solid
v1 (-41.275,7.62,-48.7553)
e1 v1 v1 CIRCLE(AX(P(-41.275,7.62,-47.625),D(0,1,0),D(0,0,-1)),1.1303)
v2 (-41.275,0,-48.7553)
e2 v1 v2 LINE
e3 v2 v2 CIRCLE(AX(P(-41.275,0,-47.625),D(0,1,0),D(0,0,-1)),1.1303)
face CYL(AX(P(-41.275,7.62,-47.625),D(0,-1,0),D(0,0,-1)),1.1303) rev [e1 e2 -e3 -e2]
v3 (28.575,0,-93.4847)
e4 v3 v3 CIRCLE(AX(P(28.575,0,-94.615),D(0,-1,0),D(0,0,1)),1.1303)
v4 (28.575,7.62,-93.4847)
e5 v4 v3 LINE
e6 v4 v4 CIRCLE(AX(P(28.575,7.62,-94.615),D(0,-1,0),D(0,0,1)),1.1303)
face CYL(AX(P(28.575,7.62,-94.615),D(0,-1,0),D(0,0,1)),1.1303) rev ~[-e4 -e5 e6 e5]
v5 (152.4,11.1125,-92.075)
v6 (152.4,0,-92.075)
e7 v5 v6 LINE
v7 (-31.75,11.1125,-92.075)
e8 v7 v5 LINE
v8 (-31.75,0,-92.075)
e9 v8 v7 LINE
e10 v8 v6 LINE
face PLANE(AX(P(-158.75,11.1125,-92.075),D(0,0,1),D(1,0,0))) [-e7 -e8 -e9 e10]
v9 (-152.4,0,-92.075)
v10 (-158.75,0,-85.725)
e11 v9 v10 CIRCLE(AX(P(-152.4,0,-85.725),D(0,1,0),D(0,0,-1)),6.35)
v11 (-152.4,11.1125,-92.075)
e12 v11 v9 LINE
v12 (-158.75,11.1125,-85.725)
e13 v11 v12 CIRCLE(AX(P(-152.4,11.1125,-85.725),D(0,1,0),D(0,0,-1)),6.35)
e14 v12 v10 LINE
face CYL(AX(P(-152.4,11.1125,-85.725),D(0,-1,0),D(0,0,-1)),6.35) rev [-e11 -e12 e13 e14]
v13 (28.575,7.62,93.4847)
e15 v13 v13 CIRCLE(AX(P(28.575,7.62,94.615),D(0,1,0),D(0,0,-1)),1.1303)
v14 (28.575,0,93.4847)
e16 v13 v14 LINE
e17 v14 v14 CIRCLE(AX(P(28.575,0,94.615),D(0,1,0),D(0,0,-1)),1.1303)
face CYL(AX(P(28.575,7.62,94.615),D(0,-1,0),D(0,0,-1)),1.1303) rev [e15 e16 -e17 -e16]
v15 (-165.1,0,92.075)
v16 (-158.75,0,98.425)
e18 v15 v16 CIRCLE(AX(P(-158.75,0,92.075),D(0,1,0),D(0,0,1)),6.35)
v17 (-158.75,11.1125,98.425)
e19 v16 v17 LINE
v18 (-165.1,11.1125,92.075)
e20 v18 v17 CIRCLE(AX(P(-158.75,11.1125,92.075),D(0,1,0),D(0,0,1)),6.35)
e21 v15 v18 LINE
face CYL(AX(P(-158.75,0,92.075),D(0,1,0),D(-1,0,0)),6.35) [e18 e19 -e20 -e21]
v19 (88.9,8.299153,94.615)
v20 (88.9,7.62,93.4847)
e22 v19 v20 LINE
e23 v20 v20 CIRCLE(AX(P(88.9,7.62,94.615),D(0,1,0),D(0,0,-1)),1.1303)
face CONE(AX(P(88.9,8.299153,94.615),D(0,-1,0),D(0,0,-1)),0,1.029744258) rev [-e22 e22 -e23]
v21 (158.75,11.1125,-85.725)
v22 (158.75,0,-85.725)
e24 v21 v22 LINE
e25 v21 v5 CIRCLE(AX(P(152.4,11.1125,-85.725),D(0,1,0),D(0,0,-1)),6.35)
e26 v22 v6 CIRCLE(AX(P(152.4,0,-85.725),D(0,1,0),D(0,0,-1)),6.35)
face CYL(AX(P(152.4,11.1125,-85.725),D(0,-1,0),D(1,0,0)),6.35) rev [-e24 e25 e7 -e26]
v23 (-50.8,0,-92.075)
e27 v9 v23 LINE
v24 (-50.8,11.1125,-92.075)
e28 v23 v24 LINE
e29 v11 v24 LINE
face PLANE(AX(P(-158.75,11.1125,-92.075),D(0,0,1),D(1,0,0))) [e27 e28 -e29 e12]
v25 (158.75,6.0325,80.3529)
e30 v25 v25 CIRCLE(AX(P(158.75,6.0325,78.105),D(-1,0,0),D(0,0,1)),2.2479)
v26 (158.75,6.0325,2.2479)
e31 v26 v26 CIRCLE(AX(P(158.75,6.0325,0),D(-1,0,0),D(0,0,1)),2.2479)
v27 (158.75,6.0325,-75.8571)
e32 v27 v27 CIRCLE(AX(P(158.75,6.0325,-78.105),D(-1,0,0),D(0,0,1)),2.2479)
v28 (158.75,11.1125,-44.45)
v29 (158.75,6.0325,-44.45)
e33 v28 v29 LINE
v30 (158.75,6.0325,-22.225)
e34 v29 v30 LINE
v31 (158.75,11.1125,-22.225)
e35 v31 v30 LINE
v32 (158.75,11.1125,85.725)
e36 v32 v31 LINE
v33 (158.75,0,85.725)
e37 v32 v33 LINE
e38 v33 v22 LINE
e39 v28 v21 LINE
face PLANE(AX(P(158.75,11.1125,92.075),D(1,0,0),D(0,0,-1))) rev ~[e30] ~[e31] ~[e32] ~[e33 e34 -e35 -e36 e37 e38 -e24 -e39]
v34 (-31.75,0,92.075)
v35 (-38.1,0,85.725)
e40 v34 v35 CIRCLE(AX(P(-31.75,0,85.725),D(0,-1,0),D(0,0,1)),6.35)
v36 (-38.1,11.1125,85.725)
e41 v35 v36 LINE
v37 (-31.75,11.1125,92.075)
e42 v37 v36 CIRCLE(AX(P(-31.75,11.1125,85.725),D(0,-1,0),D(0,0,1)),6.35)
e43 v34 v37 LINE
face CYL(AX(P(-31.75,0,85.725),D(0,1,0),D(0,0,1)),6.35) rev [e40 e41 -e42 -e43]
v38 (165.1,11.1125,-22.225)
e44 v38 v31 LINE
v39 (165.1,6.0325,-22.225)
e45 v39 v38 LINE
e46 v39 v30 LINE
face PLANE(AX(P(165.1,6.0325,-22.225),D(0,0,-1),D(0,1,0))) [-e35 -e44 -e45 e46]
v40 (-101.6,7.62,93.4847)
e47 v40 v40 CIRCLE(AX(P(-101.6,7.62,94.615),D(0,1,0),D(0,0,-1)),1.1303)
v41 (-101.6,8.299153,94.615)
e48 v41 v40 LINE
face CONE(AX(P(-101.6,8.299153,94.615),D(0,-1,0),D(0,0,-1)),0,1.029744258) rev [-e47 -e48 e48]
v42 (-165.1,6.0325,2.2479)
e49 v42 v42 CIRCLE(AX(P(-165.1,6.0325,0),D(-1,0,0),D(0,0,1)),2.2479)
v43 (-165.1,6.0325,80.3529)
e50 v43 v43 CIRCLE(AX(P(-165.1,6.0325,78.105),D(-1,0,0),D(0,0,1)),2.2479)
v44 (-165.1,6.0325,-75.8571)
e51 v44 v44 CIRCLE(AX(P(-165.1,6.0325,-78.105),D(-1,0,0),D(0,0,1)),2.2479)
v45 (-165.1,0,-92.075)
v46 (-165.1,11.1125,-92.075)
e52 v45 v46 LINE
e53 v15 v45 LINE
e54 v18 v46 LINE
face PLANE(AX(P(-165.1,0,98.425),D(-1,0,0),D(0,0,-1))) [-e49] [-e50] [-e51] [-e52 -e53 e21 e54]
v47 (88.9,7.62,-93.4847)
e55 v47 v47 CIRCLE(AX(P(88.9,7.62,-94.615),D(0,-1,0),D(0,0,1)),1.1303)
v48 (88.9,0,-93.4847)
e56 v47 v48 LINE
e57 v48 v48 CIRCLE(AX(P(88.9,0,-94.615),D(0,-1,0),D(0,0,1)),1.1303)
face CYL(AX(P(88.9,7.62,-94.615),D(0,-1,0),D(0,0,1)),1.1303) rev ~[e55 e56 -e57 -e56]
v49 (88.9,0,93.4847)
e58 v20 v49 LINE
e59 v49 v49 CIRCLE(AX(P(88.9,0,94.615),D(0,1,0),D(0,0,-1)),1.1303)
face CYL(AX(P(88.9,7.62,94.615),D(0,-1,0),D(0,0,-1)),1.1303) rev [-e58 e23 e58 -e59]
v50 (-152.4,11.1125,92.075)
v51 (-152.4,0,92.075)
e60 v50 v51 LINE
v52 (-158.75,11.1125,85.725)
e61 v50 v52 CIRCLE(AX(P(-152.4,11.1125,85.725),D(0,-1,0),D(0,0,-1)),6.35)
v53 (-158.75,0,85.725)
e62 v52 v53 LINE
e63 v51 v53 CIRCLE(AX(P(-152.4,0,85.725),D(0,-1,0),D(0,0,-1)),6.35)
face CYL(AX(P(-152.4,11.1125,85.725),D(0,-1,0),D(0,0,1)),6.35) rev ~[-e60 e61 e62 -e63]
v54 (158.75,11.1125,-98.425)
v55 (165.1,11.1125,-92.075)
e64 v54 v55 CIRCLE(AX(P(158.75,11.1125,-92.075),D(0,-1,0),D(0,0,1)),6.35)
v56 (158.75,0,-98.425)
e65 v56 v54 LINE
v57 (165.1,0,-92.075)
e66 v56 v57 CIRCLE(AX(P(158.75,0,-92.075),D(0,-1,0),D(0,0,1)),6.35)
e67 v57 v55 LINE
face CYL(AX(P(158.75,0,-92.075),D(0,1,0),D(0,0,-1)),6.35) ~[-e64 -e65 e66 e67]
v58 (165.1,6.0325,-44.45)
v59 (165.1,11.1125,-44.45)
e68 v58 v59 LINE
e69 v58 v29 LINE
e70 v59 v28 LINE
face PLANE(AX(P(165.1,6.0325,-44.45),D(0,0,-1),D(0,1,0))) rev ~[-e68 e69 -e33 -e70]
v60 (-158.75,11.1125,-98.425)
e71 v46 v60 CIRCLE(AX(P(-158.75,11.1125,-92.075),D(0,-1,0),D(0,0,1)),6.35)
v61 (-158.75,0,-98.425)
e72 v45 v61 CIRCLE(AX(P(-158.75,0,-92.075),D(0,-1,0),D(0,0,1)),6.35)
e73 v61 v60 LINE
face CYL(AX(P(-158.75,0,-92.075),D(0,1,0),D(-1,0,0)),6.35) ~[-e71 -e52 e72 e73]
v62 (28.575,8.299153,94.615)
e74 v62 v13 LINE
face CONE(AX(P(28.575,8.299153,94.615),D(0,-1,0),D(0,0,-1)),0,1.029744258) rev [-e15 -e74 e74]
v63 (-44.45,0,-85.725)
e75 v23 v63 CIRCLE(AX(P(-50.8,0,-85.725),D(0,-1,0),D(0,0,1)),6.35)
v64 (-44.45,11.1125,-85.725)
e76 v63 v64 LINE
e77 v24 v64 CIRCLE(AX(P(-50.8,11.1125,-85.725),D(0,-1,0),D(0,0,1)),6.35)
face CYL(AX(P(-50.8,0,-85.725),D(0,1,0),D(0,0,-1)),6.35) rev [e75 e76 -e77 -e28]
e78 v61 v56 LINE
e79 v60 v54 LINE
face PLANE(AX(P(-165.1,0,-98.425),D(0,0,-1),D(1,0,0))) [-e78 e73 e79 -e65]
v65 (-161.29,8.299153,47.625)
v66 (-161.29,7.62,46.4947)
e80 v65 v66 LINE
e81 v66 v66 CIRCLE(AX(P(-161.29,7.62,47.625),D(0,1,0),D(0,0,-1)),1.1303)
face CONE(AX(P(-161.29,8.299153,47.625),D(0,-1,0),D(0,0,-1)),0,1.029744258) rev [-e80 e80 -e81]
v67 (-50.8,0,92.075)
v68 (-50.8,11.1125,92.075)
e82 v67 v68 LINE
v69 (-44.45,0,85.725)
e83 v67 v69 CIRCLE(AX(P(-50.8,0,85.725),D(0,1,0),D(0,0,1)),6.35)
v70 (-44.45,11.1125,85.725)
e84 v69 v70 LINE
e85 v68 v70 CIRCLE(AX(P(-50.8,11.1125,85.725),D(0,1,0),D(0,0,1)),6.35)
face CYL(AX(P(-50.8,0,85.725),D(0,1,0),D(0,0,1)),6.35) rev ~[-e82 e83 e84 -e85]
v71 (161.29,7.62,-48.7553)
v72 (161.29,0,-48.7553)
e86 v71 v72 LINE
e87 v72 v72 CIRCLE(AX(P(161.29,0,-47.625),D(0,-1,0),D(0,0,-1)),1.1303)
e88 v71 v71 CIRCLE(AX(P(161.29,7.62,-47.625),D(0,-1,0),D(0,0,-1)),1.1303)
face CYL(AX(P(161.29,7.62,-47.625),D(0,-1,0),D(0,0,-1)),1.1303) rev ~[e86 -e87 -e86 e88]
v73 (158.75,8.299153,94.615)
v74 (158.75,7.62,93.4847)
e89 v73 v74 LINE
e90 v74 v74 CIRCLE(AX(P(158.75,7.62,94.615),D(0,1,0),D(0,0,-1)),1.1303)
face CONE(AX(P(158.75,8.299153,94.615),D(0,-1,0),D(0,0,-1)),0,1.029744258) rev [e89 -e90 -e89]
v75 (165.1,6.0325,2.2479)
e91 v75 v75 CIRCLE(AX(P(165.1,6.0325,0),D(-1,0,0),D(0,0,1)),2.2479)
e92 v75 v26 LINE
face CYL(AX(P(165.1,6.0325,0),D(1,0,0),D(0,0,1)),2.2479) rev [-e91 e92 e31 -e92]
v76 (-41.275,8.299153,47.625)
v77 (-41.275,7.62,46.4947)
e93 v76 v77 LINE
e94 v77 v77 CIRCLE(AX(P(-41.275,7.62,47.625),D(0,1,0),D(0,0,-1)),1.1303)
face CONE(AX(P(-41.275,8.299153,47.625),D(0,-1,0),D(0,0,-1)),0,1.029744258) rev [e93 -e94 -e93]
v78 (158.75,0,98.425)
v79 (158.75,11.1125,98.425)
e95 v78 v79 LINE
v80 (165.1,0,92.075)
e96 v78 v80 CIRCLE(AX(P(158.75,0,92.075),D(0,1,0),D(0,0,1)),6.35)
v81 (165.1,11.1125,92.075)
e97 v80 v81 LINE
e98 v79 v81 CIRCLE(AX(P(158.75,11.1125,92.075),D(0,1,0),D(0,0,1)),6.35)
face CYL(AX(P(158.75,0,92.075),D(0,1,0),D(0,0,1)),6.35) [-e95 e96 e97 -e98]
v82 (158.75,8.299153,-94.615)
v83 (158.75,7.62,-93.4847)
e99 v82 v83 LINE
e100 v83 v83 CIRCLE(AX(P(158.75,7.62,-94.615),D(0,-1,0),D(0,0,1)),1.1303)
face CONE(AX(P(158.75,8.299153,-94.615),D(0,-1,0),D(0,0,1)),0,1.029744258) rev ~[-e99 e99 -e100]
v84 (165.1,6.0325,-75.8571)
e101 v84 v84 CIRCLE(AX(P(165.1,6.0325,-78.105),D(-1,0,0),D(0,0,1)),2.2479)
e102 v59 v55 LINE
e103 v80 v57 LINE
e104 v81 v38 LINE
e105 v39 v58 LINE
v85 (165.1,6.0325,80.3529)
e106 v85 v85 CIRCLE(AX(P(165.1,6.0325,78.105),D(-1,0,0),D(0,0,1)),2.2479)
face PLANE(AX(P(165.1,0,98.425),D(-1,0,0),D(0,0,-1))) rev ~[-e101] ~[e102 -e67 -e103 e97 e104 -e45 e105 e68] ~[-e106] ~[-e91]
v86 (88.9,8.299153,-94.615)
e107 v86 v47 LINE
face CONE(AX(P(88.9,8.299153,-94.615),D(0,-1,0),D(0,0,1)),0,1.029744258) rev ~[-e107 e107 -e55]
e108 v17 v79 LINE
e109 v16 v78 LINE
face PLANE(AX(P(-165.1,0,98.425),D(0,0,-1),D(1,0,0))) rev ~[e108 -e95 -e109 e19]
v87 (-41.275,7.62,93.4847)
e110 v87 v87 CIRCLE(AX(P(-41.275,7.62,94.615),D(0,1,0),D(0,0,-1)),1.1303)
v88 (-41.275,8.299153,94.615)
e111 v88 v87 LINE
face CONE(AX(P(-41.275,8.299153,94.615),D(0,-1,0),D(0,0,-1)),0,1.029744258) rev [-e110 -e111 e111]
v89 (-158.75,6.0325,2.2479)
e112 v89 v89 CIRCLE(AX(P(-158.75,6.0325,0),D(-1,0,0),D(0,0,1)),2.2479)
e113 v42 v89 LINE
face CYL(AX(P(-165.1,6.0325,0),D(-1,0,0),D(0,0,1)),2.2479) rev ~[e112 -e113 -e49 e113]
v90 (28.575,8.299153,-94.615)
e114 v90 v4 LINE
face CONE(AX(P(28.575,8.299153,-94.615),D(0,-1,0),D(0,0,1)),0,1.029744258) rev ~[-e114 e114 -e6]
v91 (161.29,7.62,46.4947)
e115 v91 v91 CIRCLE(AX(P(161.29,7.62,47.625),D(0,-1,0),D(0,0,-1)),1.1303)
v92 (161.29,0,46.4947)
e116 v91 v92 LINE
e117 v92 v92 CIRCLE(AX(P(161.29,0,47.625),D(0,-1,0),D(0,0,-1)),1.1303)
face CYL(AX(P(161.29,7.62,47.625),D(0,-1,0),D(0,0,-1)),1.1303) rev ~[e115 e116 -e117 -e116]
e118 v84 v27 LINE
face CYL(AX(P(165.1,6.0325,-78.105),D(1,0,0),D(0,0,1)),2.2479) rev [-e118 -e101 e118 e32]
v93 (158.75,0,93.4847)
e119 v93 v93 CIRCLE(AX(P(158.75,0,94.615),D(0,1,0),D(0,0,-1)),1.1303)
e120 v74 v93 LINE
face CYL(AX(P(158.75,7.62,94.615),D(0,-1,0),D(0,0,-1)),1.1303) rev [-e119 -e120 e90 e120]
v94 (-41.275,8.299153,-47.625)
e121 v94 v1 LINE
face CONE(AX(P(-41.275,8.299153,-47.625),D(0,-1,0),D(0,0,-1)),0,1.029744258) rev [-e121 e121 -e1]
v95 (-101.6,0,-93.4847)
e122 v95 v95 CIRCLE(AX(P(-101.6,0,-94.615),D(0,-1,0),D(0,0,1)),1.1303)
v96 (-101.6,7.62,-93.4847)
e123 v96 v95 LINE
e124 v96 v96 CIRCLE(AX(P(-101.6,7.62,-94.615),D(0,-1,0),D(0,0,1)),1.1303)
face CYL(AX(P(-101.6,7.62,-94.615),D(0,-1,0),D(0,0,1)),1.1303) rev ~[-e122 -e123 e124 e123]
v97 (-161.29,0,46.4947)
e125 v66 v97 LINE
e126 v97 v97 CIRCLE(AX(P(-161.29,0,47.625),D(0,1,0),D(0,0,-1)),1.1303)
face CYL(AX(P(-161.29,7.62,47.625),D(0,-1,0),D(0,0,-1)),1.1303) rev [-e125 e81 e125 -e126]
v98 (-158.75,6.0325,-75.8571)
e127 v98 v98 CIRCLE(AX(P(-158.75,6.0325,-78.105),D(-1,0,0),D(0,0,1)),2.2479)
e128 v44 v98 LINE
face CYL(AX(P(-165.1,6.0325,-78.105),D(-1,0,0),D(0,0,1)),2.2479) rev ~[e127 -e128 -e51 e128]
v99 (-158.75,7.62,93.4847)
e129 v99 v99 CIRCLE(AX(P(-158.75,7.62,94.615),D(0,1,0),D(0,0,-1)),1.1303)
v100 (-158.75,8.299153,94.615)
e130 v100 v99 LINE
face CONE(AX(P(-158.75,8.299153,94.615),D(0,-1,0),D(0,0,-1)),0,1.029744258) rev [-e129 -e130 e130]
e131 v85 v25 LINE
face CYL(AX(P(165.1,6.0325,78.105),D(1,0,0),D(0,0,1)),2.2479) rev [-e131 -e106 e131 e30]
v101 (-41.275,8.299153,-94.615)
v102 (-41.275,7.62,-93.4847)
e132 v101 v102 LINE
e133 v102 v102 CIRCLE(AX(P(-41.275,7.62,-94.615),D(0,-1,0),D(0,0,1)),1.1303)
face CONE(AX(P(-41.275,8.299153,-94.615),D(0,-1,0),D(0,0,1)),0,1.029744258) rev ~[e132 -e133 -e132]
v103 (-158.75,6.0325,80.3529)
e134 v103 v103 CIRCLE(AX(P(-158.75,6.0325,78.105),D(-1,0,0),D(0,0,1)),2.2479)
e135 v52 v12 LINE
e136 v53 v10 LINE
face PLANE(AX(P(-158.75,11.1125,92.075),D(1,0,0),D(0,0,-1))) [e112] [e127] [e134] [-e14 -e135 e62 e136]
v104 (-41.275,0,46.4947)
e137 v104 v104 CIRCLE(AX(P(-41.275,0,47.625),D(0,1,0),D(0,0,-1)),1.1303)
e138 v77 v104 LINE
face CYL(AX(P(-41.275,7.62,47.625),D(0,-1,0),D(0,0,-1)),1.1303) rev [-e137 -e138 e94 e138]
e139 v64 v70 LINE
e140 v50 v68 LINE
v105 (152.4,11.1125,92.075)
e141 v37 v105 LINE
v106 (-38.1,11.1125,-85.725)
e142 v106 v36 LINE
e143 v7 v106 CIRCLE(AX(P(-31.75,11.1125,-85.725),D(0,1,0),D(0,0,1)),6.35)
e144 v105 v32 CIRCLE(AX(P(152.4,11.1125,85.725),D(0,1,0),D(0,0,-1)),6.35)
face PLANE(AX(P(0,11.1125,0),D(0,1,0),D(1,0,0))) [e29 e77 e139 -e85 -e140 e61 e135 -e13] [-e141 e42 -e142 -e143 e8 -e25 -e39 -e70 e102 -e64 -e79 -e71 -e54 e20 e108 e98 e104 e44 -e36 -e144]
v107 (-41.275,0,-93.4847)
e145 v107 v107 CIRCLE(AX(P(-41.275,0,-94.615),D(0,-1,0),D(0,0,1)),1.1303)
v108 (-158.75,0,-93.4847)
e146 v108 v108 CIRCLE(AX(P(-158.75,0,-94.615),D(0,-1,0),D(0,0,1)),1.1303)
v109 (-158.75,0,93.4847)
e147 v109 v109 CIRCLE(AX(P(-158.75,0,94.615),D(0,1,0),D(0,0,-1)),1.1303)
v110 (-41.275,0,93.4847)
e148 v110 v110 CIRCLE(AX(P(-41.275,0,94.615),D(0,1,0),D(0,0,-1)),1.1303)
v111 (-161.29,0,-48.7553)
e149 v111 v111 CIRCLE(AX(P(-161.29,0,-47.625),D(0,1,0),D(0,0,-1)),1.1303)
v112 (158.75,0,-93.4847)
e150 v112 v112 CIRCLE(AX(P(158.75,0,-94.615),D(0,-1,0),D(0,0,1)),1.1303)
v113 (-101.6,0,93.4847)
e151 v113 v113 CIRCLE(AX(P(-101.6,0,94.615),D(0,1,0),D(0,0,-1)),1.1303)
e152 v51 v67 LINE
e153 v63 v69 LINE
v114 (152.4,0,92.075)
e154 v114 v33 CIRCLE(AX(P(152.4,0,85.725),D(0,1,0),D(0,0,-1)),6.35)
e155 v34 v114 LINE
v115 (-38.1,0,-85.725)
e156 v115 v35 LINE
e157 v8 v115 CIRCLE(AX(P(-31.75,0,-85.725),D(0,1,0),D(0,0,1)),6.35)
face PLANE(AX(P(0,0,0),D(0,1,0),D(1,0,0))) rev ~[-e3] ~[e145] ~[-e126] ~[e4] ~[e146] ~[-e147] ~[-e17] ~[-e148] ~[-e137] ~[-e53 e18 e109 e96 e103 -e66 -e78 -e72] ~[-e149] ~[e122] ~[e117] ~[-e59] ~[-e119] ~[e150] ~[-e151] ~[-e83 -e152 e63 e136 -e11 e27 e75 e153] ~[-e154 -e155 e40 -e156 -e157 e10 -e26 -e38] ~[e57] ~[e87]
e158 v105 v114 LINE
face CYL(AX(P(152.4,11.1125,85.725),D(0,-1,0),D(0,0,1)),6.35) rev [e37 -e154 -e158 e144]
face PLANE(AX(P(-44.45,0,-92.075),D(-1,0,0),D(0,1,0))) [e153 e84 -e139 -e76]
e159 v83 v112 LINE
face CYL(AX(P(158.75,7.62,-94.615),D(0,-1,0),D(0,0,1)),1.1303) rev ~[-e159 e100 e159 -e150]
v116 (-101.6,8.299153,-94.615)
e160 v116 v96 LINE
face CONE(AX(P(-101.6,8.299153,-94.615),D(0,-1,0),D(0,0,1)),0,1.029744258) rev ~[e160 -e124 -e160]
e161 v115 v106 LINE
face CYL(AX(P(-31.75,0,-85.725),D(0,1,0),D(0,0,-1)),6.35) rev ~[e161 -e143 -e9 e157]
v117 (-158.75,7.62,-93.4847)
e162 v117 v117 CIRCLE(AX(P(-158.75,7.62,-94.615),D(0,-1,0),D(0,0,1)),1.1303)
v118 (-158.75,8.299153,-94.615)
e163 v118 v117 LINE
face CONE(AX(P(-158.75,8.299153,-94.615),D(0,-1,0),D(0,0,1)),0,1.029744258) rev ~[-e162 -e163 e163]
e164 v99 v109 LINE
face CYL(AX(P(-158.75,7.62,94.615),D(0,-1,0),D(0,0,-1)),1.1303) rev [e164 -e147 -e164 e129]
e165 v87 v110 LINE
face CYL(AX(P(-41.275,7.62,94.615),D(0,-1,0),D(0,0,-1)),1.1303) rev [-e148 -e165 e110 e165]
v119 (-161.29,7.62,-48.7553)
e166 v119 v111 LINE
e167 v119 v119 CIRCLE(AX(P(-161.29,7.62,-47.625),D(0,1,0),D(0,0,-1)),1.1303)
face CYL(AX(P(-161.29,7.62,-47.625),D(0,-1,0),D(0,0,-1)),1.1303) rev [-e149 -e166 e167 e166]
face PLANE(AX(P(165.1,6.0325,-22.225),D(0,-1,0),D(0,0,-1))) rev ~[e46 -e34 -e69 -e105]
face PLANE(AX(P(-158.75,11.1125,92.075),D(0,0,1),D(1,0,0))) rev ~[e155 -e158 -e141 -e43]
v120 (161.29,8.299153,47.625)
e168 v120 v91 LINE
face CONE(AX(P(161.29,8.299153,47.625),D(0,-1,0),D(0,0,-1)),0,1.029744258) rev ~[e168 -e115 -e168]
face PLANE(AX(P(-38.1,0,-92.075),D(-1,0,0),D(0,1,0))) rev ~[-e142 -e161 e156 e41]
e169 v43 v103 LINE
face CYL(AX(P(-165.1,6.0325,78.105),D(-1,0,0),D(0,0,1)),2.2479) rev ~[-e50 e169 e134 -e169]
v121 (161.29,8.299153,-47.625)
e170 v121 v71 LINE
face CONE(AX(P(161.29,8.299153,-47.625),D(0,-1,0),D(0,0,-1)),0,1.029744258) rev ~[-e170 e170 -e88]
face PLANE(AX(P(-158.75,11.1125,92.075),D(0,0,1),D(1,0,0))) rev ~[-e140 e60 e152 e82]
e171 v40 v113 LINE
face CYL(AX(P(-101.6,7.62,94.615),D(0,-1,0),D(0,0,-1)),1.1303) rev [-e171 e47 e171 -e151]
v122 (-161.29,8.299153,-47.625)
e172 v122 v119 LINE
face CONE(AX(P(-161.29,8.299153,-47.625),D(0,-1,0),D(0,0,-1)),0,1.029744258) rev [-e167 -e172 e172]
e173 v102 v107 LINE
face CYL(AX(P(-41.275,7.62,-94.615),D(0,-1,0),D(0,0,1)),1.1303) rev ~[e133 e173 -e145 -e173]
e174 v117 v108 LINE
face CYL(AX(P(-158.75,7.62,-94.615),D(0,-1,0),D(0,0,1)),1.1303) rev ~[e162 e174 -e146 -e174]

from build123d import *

# Parameters (mm, degrees)
SKETCH1_W                      = 330.2
SKETCH1_H                      = 196.85
BOSS_EXTRUDE1_DEPTH            = 11.1125
SKETCH3_W                      = 317.5
SKETCH3_H                      = 184.15
CUT_EXTRUDE1_DEPTH             = 193.533057632
FILLET1_R                      = 6.35
SKETCH4_W                      = 6.35
SKETCH4_H                      = 11.1125
BOSS_EXTRUDE2_DEPTH            = 184.15
FILLET2_R                      = 6.35
F_8_CLEARANCE_HOLE1_REACH      = 346.736
F_8_CLEARANCE_HOLE1_BORE_R     = 2.2479
F_4_40_TAPPED_HOLE1_AT_2_COUNT = 2
F_4_40_TAPPED_HOLE1_AT_2_PITCH = 57.15
F_4_40_TAPPED_HOLE1_AT_3_COUNT = 2
F_4_40_TAPPED_HOLE1_AT_3_PITCH = 117.475
F_4_40_TAPPED_HOLE1_AT_4_COUNT = 2
F_4_40_TAPPED_HOLE1_AT_4_PITCH = 187.325
F_4_40_TAPPED_HOLE1_AT_5_COUNT = 2
F_4_40_TAPPED_HOLE1_AT_5_PITCH = 247.65
F_4_40_TAPPED_HOLE1_AT_6_COUNT = 2
F_4_40_TAPPED_HOLE1_AT_6_PITCH = 317.5
F_4_40_TAPPED_HOLE2_AT_2_COUNT = 2
F_4_40_TAPPED_HOLE2_AT_2_PITCH = 95.25
LPATTERN1_COUNT                = 2
LPATTERN1_PITCH                = 120.015
CUT_EXTRUDE2_REACH             = 346.736
SKETCH13_W                     = 22.225
SKETCH13_H                     = 5.08


with BuildPart() as part:
    # Sketch1 → Boss-Extrude1 (new body)
    with BuildSketch(Plane(origin=(0, 0, 0), x_dir=(1, 0, 0), z_dir=(0, 1, 0))):
        Rectangle(SKETCH1_W, SKETCH1_H)
    extrude(amount=BOSS_EXTRUDE1_DEPTH)

    # Sketch3 → Cut-Extrude1 (cut, through all)
    with BuildSketch(Plane(origin=(0, 11.1125, 0), x_dir=(1, 0, 0), z_dir=(0, 1, 0))):
        Rectangle(SKETCH3_W, SKETCH3_H)
    extrude(amount=-CUT_EXTRUDE1_DEPTH, mode=Mode.SUBTRACT)

    # Fillet1
    fillet1_edges = [part.edges().sort_by_distance(p)[0] for p in [
        (158.75, 5.55625, -92.075),
        (158.75, 5.55625, 92.075),
        (-158.75, 5.55625, 92.075),
        (-158.75, 5.55625, -92.075),
        (165.1, 5.55625, 98.425),
        (-165.1, 5.55625, 98.425),
        (-165.1, 5.55625, -98.425),
        (165.1, 5.55625, -98.425),
    ]]
    fillet(fillet1_edges, radius=FILLET1_R)

    # Sketch4 → Boss-Extrude2 (add)
    with BuildSketch(Plane.XY.offset(-92.075)):
        with Locations((-41.275, 5.55625)):
            Rectangle(SKETCH4_W, SKETCH4_H)
    extrude(amount=BOSS_EXTRUDE2_DEPTH)

    # Fillet2
    fillet2_edges = [part.edges().sort_by_distance(p)[0] for p in [
        (-44.45, 5.55625, -92.075),
        (-38.1, 5.55625, -92.075),
        (-44.45, 5.55625, 92.075),
        (-38.1, 5.55625, 92.075),
    ]]
    fillet(fillet2_edges, radius=FILLET2_R)

    # #8 Clearance Hole1 bore → #8 Clearance Hole1 (cut, up to next)
    with BuildSketch(Plane.ZY.offset(165.1), mode=Mode.PRIVATE) as f_8_clearance_hole1_sk1:
        with Locations((-78.105, 6.0325)):
            Circle(F_8_CLEARANCE_HOLE1_BORE_R)
    f_8_clearance_hole1_tool1 = extrude(f_8_clearance_hole1_sk1.sketch, amount=-F_8_CLEARANCE_HOLE1_REACH, mode=Mode.PRIVATE) & part.part
    # #8 Clearance Hole1 bore → #8 Clearance Hole1 (cut, up to next)
    with BuildSketch(Plane.ZY.offset(165.1), mode=Mode.PRIVATE) as f_8_clearance_hole1_sk2:
        with Locations((0, 6.0325)):
            Circle(F_8_CLEARANCE_HOLE1_BORE_R)
    f_8_clearance_hole1_tool2 = extrude(f_8_clearance_hole1_sk2.sketch, amount=-F_8_CLEARANCE_HOLE1_REACH, mode=Mode.PRIVATE) & part.part
    # #8 Clearance Hole1 bore → #8 Clearance Hole1 (cut, up to next)
    with BuildSketch(Plane.ZY.offset(165.1), mode=Mode.PRIVATE) as f_8_clearance_hole1_sk3:
        with Locations((78.105, 6.0325)):
            Circle(F_8_CLEARANCE_HOLE1_BORE_R)
    f_8_clearance_hole1_tool3 = extrude(f_8_clearance_hole1_sk3.sketch, amount=-F_8_CLEARANCE_HOLE1_REACH, mode=Mode.PRIVATE) & part.part
    f_8_clearance_hole1_1 = f_8_clearance_hole1_tool1.solids().sort_by_distance((-165.1, 6.0325, -78.105))[0]
    add(f_8_clearance_hole1_1, mode=Mode.SUBTRACT)
    f_8_clearance_hole1_2 = f_8_clearance_hole1_tool2.solids().sort_by_distance((-165.1, 6.0325, 0))[0]
    add(f_8_clearance_hole1_2, mode=Mode.SUBTRACT)
    f_8_clearance_hole1_3 = f_8_clearance_hole1_tool3.solids().sort_by_distance((-165.1, 6.0325, 78.105))[0]
    add(f_8_clearance_hole1_3, mode=Mode.SUBTRACT)
    f_8_clearance_hole1 = f_8_clearance_hole1_1 + f_8_clearance_hole1_2 + f_8_clearance_hole1_3  # #8 Clearance Hole1 as one shape, for the pattern or mirror that repeats it

    # Mirror1: #8 Clearance Hole1 across plane
    add(f_8_clearance_hole1.mirror(Plane(origin=(0, 0, 0), x_dir=(0, 0, 1), z_dir=(1, 0, 0))), mode=Mode.SUBTRACT)

    # Sketch9 → #4-40 Tapped Hole1 (revolve, cut)
    with BuildSketch(Plane(origin=(-158.75, 0, 94.615), x_dir=(0, 0, -1), z_dir=(1, 0, 0))):
        Polygon((0, 0), (0, 8.299152758), (1.1303, 7.62), (1.1303, 0), align=None)
    f_4_40_tapped_hole1 = revolve(axis=Axis((-158.75, -6.35, 94.615), (0, 1, 0)), mode=Mode.SUBTRACT)

    # #4-40 Tapped Hole1 at 2: #4-40 Tapped Hole1 ×2
    with Locations(*[(i * F_4_40_TAPPED_HOLE1_AT_2_PITCH, 0, 0) for i in range(1, F_4_40_TAPPED_HOLE1_AT_2_COUNT)]):
        add(f_4_40_tapped_hole1, mode=Mode.SUBTRACT)

    # #4-40 Tapped Hole1 at 3: #4-40 Tapped Hole1 ×2
    with Locations(*[(i * F_4_40_TAPPED_HOLE1_AT_3_PITCH, 0, 0) for i in range(1, F_4_40_TAPPED_HOLE1_AT_3_COUNT)]):
        add(f_4_40_tapped_hole1, mode=Mode.SUBTRACT)

    # #4-40 Tapped Hole1 at 4: #4-40 Tapped Hole1 ×2
    with Locations(*[(i * F_4_40_TAPPED_HOLE1_AT_4_PITCH, 0, 0) for i in range(1, F_4_40_TAPPED_HOLE1_AT_4_COUNT)]):
        add(f_4_40_tapped_hole1, mode=Mode.SUBTRACT)

    # #4-40 Tapped Hole1 at 5: #4-40 Tapped Hole1 ×2
    with Locations(*[(i * F_4_40_TAPPED_HOLE1_AT_5_PITCH, 0, 0) for i in range(1, F_4_40_TAPPED_HOLE1_AT_5_COUNT)]):
        add(f_4_40_tapped_hole1, mode=Mode.SUBTRACT)

    # #4-40 Tapped Hole1 at 6: #4-40 Tapped Hole1 ×2
    with Locations(*[(i * F_4_40_TAPPED_HOLE1_AT_6_PITCH, 0, 0) for i in range(1, F_4_40_TAPPED_HOLE1_AT_6_COUNT)]):
        add(f_4_40_tapped_hole1, mode=Mode.SUBTRACT)

    # Mirror2: #4-40 Tapped Hole1 across plane
    add(f_4_40_tapped_hole1.mirror(Plane.XY), mode=Mode.SUBTRACT)

    # Mirror2 copy 1 sketch → Mirror2 copy 1 (revolve, cut)
    with BuildSketch(Plane(origin=(-101.6, 0, -94.615), x_dir=(0, 0, 1), z_dir=(1, 0, 0))):
        Polygon((0, 0), (0, -8.299152758), (1.1303, -7.62), (1.1303, 0), align=None)
    revolve(axis=Axis((-101.6, -6.35, -94.615), (0, -1, 0)), mode=Mode.SUBTRACT)

    # Mirror2 copy 2 sketch → Mirror2 copy 2 (revolve, cut)
    with BuildSketch(Plane(origin=(-41.275, 0, -94.615), x_dir=(0, 0, 1), z_dir=(1, 0, 0))):
        Polygon((0, 0), (0, -8.299152758), (1.1303, -7.62), (1.1303, 0), align=None)
    revolve(axis=Axis((-41.275, -6.35, -94.615), (0, -1, 0)), mode=Mode.SUBTRACT)

    # Mirror2 copy 3 sketch → Mirror2 copy 3 (revolve, cut)
    with BuildSketch(Plane(origin=(28.575, 0, -94.615), x_dir=(0, 0, 1), z_dir=(1, 0, 0))):
        Polygon((0, 0), (0, -8.299152758), (1.1303, -7.62), (1.1303, 0), align=None)
    revolve(axis=Axis((28.575, -6.35, -94.615), (0, -1, 0)), mode=Mode.SUBTRACT)

    # Mirror2 copy 4 sketch → Mirror2 copy 4 (revolve, cut)
    with BuildSketch(Plane(origin=(88.9, 0, -94.615), x_dir=(0, 0, 1), z_dir=(1, 0, 0))):
        Polygon((0, 0), (0, -8.299152758), (1.1303, -7.62), (1.1303, 0), align=None)
    revolve(axis=Axis((88.9, -6.35, -94.615), (0, -1, 0)), mode=Mode.SUBTRACT)

    # Mirror2 copy 5 sketch → Mirror2 copy 5 (revolve, cut)
    with BuildSketch(Plane(origin=(158.75, 0, -94.615), x_dir=(0, 0, 1), z_dir=(1, 0, 0))):
        Polygon((0, 0), (0, -8.299152758), (1.1303, -7.62), (1.1303, 0), align=None)
    revolve(axis=Axis((158.75, -6.35, -94.615), (0, -1, 0)), mode=Mode.SUBTRACT)

    # Sketch11 → #4-40 Tapped Hole2 (revolve, cut)
    with BuildSketch(Plane(origin=(-161.29, 0, 47.625), x_dir=(0, 0, -1), z_dir=(1, 0, 0))):
        Polygon((0, 0), (0, 8.299152758), (1.1303, 7.62), (1.1303, 0), align=None)
    f_4_40_tapped_hole2 = revolve(axis=Axis((-161.29, -6.35, 47.625), (0, 1, 0)), mode=Mode.SUBTRACT)

    # #4-40 Tapped Hole2 at 2: #4-40 Tapped Hole2 ×2
    with Locations(*[(0, 0, -i * F_4_40_TAPPED_HOLE2_AT_2_PITCH) for i in range(1, F_4_40_TAPPED_HOLE2_AT_2_COUNT)]):
        add(f_4_40_tapped_hole2, mode=Mode.SUBTRACT)

    # LPattern1: #4-40 Tapped Hole2 ×2
    with Locations(*[(i * LPATTERN1_PITCH, 0, 0) for i in range(1, LPATTERN1_COUNT)]):
        add(f_4_40_tapped_hole2, mode=Mode.SUBTRACT)

    # LPattern1 copy 1 sketch → LPattern1 copy 1 (revolve, cut)
    with BuildSketch(Plane(origin=(-41.275, 0, -47.625), x_dir=(0, 0, -1), z_dir=(1, 0, 0))):
        Polygon((0, 0), (0, 8.299152758), (1.1303, 7.62), (1.1303, 0), align=None)
    revolve(axis=Axis((-41.275, -6.35, -47.625), (0, 1, 0)), mode=Mode.SUBTRACT)

    # Mirror3: #4-40 Tapped Hole2 across plane
    add(f_4_40_tapped_hole2.mirror(Plane(origin=(0, 0, 0), x_dir=(0, 0, 1), z_dir=(1, 0, 0))), mode=Mode.SUBTRACT)

    # Mirror3 copy 1 sketch → Mirror3 copy 1 (revolve, cut)
    with BuildSketch(Plane(origin=(161.29, 0, -47.625), x_dir=(0, 0, -1), z_dir=(-1, 0, 0))):
        Polygon((0, 0), (0, -8.299152758), (1.1303, -7.62), (1.1303, 0), align=None)
    revolve(axis=Axis((161.29, -6.35, -47.625), (0, -1, 0)), mode=Mode.SUBTRACT)

    # Sketch13 → Cut-Extrude2 (cut, up to next)
    with BuildSketch(Plane(origin=(165.1, 0, 0), x_dir=(0, 0, -1), z_dir=(1, 0, 0)), mode=Mode.PRIVATE) as cut_extrude2_sk1:
        with Locations((33.3375, 8.5725)):
            Rectangle(SKETCH13_W, SKETCH13_H)
    cut_extrude2_tool1 = extrude(cut_extrude2_sk1.sketch, amount=-CUT_EXTRUDE2_REACH, mode=Mode.PRIVATE) & part.part
    add(cut_extrude2_tool1.solids().sort_by_distance((165.1, 8.5725, -33.3375))[0], mode=Mode.SUBTRACT)


solid = part.part
